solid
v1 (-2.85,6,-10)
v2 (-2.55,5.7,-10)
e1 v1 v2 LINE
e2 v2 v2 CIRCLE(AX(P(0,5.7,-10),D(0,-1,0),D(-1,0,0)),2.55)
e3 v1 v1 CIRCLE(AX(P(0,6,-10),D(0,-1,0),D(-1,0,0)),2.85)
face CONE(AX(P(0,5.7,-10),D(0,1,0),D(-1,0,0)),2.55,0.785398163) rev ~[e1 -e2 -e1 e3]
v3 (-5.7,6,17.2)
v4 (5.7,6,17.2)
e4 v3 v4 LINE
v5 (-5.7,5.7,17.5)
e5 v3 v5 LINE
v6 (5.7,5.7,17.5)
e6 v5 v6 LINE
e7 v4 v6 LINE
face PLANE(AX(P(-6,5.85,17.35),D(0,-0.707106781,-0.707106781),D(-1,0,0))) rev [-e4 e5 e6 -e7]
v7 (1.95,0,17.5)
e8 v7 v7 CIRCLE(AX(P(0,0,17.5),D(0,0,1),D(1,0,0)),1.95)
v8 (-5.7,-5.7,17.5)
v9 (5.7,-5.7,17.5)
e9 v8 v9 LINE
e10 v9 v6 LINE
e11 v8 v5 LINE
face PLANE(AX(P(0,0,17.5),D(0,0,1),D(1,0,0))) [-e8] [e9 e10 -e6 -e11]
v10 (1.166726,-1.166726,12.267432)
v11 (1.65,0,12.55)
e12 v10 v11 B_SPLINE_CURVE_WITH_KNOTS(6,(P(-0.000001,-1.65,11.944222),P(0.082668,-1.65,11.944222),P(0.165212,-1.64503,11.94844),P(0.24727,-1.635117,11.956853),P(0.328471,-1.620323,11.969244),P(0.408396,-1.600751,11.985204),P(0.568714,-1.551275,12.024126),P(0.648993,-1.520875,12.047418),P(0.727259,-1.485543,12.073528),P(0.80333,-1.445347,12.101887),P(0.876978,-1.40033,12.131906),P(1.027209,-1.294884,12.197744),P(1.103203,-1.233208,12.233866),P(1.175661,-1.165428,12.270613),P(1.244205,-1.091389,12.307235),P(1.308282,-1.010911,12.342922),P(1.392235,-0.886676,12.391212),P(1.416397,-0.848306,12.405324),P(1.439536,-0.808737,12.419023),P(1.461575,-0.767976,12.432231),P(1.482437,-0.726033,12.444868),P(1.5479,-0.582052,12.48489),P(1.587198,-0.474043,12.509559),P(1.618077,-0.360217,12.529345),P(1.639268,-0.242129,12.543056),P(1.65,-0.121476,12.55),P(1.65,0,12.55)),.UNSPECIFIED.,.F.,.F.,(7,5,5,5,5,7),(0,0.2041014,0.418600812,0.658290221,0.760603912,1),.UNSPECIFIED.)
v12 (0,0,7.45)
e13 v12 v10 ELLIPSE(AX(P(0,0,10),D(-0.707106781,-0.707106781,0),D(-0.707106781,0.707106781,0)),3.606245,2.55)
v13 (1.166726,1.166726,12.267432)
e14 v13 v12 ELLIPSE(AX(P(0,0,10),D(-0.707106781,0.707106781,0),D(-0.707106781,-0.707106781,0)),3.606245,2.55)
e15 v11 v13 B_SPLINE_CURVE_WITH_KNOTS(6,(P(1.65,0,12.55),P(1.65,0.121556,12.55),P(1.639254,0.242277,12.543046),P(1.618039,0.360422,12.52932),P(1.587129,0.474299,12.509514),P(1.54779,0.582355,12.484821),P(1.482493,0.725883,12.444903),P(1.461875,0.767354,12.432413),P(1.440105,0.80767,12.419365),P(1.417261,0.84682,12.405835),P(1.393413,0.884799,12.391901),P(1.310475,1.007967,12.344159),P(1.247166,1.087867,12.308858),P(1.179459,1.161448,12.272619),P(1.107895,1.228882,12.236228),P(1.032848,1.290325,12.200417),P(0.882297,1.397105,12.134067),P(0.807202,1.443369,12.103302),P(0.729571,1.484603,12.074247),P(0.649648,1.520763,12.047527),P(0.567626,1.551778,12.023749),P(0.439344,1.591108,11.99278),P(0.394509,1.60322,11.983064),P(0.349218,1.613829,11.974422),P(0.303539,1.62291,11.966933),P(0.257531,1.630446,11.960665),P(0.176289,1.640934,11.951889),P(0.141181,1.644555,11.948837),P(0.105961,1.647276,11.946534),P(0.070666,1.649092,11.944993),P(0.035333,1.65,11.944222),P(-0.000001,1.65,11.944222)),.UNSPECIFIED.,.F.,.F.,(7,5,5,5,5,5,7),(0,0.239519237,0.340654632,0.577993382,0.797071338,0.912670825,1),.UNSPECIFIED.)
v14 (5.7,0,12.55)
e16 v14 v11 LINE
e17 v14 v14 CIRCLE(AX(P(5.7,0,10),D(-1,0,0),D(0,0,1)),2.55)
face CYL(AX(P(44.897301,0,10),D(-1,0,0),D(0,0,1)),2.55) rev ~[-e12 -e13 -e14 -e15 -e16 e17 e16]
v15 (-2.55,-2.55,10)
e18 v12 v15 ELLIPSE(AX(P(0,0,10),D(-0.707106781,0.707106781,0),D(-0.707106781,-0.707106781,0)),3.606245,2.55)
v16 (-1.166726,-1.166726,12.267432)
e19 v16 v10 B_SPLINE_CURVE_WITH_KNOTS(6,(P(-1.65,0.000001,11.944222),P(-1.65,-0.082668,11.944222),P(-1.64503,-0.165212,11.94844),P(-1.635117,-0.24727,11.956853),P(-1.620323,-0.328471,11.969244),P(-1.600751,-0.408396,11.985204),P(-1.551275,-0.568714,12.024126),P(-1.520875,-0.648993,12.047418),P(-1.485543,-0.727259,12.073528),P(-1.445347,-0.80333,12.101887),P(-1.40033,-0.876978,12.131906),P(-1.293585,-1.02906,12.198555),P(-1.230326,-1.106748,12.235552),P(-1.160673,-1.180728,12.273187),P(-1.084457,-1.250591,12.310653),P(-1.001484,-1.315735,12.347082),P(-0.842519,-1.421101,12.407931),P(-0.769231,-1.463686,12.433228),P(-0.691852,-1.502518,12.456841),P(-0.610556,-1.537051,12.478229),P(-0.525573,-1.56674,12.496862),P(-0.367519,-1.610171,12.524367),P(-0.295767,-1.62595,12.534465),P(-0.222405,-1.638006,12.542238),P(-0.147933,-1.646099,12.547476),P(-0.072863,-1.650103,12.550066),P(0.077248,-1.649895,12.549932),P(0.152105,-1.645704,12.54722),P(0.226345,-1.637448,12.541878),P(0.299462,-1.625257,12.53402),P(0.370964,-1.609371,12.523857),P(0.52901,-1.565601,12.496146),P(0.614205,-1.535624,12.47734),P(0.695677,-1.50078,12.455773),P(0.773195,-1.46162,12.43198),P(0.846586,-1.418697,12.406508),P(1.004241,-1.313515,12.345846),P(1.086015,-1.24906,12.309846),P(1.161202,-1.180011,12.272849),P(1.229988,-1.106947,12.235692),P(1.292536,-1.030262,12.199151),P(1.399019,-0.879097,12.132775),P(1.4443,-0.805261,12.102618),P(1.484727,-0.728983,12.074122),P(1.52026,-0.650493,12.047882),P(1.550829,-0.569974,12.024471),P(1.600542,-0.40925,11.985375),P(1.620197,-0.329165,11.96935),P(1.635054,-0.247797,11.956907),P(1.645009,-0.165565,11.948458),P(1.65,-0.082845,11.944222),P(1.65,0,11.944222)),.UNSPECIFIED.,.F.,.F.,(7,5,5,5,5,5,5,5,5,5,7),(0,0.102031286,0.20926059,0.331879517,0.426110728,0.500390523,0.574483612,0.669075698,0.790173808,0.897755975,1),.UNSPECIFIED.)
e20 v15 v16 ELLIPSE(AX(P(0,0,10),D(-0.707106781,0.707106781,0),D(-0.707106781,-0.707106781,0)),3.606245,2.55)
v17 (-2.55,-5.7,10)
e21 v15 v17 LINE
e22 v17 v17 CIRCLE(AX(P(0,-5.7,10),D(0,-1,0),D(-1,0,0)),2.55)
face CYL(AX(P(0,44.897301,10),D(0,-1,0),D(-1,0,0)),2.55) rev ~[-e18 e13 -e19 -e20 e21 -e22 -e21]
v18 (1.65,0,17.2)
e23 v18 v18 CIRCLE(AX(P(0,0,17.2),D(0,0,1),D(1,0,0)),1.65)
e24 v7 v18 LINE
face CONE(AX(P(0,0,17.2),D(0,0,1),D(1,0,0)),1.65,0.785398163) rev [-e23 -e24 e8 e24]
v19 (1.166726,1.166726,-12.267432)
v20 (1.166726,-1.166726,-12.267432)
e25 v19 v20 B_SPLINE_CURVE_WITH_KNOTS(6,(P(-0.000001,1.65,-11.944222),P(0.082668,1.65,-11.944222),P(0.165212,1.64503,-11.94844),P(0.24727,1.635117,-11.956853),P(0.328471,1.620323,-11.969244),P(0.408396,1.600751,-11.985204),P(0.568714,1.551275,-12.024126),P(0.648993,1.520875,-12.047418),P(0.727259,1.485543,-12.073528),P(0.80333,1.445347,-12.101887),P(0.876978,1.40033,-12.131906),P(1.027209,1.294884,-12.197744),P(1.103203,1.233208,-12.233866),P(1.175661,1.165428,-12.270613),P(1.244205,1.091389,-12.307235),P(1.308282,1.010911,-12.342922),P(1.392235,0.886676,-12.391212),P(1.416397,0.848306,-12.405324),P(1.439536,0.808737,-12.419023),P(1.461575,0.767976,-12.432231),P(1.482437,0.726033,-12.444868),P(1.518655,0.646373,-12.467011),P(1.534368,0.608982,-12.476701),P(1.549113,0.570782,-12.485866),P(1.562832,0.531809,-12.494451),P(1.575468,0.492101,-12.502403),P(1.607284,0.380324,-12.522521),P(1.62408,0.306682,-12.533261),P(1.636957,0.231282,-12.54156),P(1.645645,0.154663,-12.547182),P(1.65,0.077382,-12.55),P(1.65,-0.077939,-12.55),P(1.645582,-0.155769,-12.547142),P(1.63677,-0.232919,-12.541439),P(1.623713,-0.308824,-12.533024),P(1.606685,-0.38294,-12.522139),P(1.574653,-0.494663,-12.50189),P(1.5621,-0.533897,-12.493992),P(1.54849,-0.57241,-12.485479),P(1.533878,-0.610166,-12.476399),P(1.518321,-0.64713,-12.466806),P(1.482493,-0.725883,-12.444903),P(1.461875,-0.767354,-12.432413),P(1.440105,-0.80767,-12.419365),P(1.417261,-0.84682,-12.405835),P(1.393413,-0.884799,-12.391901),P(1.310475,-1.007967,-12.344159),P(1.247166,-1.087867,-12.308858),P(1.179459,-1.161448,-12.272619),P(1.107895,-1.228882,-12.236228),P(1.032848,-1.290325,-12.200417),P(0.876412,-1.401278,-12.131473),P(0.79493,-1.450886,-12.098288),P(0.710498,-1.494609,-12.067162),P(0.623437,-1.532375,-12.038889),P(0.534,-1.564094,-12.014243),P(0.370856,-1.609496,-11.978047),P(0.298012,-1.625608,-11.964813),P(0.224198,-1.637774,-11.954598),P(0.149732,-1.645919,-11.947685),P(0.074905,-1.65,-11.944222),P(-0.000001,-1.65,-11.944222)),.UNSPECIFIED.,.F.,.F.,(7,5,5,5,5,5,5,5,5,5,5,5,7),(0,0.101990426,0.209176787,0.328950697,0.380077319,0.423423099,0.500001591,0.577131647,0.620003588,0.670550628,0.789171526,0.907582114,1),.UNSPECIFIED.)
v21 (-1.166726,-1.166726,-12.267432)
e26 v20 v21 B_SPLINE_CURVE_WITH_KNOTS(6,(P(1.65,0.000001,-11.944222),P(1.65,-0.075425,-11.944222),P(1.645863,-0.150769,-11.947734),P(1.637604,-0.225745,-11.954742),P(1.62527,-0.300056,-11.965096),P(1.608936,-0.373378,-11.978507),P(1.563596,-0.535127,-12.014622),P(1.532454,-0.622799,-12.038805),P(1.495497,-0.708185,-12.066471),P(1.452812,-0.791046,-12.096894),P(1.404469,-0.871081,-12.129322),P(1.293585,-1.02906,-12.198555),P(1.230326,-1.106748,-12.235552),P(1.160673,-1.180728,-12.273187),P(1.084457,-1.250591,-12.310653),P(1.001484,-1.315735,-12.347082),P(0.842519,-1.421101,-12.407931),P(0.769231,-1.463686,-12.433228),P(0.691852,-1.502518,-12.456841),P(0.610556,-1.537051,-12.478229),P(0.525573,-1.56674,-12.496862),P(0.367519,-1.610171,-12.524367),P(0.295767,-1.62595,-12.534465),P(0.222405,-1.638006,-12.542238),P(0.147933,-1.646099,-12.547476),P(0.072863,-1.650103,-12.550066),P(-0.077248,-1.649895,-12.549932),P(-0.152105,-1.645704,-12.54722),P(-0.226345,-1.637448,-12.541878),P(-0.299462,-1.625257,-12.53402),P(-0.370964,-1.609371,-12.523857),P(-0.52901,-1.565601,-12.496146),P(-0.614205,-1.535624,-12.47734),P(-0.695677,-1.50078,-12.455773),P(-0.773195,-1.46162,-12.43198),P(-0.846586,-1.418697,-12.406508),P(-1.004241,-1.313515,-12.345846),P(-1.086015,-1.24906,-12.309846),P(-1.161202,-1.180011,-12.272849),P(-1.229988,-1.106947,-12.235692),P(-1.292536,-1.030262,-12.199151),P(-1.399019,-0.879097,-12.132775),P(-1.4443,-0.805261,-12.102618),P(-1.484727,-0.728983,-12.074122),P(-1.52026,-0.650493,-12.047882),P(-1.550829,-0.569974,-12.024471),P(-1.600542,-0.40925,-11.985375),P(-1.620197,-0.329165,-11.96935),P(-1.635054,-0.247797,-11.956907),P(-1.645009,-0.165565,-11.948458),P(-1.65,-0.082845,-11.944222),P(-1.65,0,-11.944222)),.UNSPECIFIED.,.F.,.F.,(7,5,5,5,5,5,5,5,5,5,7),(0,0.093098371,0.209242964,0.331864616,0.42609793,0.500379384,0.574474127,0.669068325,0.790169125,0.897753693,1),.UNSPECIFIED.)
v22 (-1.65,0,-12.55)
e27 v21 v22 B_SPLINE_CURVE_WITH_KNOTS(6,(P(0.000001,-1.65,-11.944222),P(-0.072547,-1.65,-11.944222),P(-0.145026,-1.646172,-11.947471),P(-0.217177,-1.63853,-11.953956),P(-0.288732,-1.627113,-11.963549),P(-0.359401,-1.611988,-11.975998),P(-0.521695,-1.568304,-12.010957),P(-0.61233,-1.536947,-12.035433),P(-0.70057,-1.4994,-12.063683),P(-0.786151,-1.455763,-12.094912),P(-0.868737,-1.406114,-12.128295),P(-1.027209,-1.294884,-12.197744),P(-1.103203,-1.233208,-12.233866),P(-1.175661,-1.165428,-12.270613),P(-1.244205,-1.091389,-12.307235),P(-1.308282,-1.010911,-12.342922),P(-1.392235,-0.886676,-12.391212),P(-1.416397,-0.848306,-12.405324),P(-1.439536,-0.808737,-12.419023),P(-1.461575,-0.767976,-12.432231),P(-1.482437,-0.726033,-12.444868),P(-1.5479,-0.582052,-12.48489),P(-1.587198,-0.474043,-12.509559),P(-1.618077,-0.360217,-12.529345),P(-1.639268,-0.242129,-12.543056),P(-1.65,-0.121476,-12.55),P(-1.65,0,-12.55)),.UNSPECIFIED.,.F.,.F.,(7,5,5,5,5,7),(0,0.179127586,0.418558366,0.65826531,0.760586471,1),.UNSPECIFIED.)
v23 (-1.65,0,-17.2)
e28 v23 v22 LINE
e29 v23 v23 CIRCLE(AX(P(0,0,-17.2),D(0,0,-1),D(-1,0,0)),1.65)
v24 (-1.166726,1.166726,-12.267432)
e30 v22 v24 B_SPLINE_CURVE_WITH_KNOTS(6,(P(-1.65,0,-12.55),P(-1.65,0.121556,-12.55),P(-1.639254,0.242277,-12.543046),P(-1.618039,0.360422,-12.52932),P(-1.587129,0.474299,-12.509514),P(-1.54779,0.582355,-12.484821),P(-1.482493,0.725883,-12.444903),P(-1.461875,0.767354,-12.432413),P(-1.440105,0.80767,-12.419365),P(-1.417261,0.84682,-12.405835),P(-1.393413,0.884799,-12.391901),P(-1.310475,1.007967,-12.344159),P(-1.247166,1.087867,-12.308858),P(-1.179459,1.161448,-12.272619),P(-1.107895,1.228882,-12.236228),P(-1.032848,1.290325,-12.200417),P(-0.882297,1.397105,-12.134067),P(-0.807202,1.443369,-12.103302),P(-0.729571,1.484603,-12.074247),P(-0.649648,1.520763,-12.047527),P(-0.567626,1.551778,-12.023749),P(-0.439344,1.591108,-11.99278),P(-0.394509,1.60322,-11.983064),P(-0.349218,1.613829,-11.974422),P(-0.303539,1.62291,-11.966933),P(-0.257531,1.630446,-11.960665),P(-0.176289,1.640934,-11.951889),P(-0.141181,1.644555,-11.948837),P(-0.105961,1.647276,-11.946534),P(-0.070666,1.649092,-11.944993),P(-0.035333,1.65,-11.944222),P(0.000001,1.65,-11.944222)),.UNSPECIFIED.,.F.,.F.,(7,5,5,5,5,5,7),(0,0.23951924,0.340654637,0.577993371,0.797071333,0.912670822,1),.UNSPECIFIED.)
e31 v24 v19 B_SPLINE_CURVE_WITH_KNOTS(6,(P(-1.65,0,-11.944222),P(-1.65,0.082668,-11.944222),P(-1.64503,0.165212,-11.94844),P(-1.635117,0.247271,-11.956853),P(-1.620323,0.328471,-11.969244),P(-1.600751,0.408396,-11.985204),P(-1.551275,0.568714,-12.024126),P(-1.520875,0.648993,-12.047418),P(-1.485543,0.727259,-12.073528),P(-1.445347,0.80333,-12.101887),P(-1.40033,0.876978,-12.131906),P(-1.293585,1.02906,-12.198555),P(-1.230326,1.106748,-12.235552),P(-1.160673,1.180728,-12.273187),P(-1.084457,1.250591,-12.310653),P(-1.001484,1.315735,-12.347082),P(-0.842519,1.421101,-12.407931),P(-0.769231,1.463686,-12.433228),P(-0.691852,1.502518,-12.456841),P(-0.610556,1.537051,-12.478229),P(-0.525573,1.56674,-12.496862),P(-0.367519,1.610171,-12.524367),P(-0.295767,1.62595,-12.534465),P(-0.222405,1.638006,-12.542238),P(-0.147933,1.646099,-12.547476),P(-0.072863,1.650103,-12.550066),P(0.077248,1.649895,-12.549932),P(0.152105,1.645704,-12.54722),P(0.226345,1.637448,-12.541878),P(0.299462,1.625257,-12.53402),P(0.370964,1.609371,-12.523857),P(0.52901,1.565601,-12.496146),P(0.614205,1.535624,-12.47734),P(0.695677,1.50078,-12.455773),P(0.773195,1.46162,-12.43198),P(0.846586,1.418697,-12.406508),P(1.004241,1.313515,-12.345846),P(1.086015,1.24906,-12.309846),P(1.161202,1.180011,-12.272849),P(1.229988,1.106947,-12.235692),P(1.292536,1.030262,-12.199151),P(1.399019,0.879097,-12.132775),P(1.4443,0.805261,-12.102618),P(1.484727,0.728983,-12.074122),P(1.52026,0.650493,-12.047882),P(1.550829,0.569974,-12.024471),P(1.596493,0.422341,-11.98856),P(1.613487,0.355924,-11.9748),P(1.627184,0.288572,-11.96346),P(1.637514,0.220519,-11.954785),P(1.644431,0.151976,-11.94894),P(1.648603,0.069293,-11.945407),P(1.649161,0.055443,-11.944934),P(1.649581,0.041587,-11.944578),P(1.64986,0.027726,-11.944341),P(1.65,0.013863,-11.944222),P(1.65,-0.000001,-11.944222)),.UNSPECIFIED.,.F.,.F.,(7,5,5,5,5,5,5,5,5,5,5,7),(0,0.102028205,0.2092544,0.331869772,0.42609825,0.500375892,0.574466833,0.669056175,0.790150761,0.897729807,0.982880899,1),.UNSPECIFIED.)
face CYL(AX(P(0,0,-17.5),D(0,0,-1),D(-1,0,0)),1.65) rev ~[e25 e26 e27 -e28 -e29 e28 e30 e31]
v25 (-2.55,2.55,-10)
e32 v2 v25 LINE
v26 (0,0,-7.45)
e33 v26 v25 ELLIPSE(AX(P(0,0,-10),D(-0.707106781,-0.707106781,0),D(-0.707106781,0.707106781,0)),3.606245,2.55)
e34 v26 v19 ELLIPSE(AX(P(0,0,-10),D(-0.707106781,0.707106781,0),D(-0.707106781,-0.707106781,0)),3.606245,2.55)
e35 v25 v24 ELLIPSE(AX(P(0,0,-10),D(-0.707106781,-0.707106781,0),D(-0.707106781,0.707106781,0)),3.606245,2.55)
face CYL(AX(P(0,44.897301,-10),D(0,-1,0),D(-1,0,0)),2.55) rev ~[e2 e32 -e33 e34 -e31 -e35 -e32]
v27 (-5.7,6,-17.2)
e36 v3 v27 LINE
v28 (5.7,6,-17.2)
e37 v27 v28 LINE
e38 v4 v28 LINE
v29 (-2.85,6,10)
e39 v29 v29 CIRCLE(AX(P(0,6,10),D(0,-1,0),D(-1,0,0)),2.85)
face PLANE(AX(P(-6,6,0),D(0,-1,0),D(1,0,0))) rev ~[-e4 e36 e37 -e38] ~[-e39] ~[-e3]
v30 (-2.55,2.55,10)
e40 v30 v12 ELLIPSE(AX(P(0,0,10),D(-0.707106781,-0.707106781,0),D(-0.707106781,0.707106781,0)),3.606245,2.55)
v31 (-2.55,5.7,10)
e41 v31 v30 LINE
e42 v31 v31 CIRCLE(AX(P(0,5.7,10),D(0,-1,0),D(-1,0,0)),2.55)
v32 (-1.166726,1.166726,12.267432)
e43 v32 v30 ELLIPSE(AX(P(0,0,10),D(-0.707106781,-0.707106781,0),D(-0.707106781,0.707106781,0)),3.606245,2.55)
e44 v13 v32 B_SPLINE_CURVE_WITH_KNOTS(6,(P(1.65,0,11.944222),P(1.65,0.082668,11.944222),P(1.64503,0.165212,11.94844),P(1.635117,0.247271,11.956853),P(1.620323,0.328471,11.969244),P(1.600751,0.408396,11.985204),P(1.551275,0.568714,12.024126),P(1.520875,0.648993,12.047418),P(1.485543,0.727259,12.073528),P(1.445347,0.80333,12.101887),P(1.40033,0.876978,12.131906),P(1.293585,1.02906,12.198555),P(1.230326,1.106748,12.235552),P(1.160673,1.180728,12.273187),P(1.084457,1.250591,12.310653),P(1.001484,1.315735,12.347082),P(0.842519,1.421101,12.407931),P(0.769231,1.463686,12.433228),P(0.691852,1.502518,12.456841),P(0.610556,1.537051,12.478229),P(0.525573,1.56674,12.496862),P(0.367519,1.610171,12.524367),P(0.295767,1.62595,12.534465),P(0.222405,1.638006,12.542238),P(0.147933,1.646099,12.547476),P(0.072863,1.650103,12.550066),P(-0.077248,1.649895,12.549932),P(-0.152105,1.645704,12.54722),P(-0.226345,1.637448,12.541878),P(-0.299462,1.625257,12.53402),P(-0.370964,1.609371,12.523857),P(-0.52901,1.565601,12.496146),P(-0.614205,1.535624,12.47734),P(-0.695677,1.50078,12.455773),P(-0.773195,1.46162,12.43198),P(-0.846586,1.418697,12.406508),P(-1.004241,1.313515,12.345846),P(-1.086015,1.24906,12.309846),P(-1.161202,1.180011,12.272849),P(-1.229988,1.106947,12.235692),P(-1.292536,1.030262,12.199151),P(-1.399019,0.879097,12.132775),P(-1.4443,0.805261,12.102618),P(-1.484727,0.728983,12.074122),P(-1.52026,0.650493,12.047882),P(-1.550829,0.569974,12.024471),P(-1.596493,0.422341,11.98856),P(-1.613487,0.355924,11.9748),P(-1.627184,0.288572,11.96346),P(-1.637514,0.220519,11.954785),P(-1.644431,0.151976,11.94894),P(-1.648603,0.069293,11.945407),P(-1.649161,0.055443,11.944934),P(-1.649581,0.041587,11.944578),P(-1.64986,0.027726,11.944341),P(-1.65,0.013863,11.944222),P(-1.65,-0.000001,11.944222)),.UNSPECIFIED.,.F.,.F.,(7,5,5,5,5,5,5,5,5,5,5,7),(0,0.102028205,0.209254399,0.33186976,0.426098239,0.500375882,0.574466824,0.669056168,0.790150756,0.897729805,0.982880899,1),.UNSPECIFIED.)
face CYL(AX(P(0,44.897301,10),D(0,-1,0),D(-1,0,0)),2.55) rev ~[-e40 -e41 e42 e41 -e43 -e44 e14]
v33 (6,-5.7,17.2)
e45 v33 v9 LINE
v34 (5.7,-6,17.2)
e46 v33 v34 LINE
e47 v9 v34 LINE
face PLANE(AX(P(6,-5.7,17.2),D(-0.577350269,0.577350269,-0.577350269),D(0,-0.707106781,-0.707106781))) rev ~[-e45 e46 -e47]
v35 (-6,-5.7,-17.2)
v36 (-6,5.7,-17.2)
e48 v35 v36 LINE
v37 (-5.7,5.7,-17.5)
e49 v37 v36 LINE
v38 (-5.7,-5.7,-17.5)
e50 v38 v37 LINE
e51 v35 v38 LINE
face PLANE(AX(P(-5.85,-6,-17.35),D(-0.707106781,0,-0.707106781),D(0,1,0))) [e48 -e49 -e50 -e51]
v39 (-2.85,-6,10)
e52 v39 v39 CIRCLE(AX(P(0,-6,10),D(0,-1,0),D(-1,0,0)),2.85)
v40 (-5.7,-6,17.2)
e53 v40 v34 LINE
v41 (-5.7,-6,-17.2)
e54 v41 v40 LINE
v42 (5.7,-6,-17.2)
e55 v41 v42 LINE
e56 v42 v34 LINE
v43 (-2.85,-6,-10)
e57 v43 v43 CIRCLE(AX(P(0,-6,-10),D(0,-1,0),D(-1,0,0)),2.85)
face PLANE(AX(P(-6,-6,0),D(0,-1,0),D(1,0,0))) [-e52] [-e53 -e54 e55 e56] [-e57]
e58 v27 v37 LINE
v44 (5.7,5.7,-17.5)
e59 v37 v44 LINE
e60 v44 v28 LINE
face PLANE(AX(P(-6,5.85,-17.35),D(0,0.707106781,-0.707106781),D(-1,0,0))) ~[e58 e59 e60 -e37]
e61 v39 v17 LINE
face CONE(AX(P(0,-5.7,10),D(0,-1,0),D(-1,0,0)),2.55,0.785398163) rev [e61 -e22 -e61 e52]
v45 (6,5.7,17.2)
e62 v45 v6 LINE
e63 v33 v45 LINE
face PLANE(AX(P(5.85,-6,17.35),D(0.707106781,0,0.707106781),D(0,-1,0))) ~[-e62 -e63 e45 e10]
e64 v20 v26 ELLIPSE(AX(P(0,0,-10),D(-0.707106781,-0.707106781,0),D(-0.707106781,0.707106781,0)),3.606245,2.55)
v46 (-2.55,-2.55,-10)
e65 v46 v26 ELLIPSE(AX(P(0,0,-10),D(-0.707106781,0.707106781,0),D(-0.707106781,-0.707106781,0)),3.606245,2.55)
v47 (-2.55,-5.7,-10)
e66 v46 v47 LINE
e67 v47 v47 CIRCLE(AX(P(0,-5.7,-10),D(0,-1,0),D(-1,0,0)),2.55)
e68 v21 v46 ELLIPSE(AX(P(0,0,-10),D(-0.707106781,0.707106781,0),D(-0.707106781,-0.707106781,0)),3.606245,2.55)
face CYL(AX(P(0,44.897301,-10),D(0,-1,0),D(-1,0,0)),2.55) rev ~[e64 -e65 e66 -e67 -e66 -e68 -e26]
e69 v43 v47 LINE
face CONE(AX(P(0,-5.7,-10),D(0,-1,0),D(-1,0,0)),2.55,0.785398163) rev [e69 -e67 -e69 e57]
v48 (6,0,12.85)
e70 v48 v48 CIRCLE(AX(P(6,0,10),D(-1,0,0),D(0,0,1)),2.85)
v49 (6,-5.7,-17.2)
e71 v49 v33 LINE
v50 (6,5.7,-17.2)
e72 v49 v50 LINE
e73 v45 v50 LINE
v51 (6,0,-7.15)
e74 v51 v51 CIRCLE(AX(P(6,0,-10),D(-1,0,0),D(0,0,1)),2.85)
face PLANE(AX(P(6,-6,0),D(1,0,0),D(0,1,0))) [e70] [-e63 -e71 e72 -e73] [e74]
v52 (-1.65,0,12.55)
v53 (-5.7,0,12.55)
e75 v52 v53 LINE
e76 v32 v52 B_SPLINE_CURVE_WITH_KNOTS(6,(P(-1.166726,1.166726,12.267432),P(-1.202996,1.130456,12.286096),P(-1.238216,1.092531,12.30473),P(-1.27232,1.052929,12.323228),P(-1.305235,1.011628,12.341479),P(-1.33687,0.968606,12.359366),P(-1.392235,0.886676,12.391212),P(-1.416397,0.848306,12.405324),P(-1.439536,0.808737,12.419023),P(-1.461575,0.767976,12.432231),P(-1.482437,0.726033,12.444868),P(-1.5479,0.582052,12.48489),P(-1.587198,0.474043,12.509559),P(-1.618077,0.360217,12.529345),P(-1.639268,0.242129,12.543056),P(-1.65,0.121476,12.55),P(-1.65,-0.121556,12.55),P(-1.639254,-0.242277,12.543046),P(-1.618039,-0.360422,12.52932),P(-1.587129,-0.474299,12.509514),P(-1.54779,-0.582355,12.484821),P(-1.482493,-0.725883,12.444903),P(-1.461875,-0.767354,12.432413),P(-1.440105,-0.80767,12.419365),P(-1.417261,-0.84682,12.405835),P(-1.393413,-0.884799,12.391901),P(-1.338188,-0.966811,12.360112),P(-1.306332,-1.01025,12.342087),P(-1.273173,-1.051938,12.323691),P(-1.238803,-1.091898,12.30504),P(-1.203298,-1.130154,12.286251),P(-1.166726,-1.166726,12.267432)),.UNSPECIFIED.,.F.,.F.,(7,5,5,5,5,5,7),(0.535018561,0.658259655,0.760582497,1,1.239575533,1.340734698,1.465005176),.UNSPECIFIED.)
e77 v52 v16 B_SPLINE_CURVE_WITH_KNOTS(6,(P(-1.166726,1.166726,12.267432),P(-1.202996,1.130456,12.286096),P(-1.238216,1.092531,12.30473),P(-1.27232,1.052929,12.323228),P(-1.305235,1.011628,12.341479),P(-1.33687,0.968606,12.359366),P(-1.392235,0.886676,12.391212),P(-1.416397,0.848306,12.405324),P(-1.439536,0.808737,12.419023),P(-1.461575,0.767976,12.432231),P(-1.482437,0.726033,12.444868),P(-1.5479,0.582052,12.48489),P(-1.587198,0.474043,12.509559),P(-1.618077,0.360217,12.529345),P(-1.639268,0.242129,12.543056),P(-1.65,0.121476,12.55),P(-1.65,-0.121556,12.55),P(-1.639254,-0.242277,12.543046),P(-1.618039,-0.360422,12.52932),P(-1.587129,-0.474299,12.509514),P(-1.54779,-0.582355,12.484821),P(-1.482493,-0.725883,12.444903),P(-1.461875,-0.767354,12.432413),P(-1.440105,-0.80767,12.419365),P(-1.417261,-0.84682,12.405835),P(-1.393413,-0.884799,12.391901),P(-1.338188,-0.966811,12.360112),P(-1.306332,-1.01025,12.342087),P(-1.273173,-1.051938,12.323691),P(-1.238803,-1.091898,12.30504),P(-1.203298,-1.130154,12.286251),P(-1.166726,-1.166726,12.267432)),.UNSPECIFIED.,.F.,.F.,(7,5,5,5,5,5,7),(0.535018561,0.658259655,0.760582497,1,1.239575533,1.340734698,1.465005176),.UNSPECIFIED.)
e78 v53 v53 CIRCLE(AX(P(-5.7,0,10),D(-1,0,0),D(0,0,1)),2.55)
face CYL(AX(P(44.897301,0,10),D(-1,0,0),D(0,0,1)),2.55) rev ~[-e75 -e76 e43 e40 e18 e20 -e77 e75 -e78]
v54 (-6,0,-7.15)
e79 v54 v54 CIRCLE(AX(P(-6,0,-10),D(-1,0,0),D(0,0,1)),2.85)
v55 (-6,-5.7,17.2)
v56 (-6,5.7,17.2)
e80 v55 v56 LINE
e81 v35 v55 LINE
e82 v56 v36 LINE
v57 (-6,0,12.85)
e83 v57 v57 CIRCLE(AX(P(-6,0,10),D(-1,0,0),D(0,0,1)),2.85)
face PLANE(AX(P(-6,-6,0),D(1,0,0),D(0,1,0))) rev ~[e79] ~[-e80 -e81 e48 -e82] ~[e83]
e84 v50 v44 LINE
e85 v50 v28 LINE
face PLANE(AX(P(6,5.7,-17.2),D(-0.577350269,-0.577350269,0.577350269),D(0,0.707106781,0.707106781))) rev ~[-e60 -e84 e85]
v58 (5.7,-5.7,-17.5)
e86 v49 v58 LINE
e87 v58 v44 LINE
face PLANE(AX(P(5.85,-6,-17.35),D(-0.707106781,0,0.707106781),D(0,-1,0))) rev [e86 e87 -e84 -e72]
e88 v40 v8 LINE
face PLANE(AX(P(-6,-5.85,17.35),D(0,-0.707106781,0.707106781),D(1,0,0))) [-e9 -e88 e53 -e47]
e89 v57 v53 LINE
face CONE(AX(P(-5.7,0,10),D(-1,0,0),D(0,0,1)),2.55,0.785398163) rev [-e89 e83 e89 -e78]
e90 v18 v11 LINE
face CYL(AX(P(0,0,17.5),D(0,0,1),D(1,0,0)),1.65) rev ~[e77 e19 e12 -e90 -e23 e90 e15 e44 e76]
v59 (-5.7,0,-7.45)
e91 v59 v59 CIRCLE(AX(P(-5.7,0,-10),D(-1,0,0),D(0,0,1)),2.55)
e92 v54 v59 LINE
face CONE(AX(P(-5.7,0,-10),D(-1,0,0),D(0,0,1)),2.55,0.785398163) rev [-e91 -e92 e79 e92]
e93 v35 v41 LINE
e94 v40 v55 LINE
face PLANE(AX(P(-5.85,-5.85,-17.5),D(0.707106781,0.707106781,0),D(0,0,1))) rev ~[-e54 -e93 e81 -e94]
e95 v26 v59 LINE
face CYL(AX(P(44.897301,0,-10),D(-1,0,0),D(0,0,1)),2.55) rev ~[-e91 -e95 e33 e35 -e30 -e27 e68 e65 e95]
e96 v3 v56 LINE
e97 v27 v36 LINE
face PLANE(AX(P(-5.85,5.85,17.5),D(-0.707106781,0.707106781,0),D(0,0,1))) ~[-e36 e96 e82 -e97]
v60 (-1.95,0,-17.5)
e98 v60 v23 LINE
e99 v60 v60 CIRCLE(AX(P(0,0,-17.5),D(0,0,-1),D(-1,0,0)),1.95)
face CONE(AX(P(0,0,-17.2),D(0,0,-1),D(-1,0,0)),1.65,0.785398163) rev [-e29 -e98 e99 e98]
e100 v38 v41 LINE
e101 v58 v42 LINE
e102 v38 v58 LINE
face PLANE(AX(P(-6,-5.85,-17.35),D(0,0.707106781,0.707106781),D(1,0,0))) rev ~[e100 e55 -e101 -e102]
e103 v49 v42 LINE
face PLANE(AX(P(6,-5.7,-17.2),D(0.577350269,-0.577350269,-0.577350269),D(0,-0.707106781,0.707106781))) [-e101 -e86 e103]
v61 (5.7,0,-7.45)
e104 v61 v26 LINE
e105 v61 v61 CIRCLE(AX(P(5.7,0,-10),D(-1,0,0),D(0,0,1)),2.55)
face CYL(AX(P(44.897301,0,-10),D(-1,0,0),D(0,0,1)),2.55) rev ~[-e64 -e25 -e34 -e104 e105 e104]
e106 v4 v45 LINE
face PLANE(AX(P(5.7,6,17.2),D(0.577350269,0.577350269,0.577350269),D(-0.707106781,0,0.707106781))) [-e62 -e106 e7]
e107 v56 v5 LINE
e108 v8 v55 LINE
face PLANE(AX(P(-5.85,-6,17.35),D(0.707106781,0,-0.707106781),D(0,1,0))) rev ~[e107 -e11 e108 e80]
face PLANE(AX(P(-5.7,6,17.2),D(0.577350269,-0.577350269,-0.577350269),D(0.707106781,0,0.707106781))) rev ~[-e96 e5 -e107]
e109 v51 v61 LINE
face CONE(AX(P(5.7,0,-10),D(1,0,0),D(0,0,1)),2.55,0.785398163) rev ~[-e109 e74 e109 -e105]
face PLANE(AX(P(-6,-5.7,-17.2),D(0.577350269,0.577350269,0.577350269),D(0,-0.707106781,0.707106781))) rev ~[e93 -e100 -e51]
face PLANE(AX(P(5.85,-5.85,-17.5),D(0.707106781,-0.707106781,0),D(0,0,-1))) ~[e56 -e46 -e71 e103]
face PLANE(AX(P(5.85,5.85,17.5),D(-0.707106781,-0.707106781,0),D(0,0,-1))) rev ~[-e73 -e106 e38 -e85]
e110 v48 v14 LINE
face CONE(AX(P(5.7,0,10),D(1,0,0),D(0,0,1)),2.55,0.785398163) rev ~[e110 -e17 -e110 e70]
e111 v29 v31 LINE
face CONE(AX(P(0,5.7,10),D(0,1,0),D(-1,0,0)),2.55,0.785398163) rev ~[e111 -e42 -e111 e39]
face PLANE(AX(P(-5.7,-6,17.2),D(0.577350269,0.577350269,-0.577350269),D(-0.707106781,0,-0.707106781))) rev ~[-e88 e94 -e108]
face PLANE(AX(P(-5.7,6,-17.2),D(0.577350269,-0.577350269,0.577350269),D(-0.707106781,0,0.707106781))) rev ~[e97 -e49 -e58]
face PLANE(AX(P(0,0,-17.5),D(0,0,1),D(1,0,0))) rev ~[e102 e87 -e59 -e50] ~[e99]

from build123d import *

# Parameters (mm, degrees)
SKETCH_1_W              = 12
SKETCH_1_H              = 12
EXTRUDE_1_DEPTH         = 17.5
HOLE_WIZARD_5_1_5_1_1_D = 5.1
HOLE_WIZARD_5_1_5_1_2_D = 5.1
HOLE_WIZARD_M4_1_REACH  = 38.014
HOLE_WIZARD_M4_1_BORE_R = 1.65
HOLE_WIZARD_M4_2_REACH  = 38.014
HOLE_WIZARD_M4_2_BORE_R = 1.65
CHAMFER_1_SIZE          = 0.3


with BuildPart() as part:
    # 草图1 → 凸台-拉伸1 (new, symmetric)
    with BuildSketch(Plane.XY):
        Rectangle(SKETCH_1_W, SKETCH_1_H)
    extrude(amount=EXTRUDE_1_DEPTH, both=True)

    # Ø5.1 (5.1) 直径孔1 (through all)
    with Locations(Plane(origin=(6, 0, 0), x_dir=(0, 0, -1), z_dir=(1, 0, 0))):
        with Locations((-10, 0), (10, 0)):
            Hole(HOLE_WIZARD_5_1_5_1_1_D / 2)

    # Ø5.1 (5.1) 直径孔2 (through all)
    with Locations(Plane(origin=(0, 6, 0), x_dir=(1, 0, 0), z_dir=(0, 1, 0))):
        with Locations((0, -10), (0, 10)):
            Hole(HOLE_WIZARD_5_1_5_1_2_D / 2)

    # M4 螺纹孔1 bore → M4 螺纹孔1 (cut, up to next)
    with BuildSketch(Plane.XY.offset(17.5), mode=Mode.PRIVATE) as hole_wizard_m4_1_sk1:
        Circle(HOLE_WIZARD_M4_1_BORE_R)
    hole_wizard_m4_1_tool1 = extrude(hole_wizard_m4_1_sk1.sketch, amount=-HOLE_WIZARD_M4_1_REACH, mode=Mode.PRIVATE) & part.part
    add(hole_wizard_m4_1_tool1.solids().sort_by_distance((0, 0, 17.5))[0], mode=Mode.SUBTRACT)

    # M4 螺纹孔2 bore → M4 螺纹孔2 (cut, up to next)
    with BuildSketch(Plane(origin=(0, 0, -17.5), x_dir=(-1, 0, 0), z_dir=(0, 0, -1)), mode=Mode.PRIVATE) as hole_wizard_m4_2_sk1:
        Circle(HOLE_WIZARD_M4_2_BORE_R)
    hole_wizard_m4_2_tool1 = extrude(hole_wizard_m4_2_sk1.sketch, amount=-HOLE_WIZARD_M4_2_REACH, mode=Mode.PRIVATE) & part.part
    add(hole_wizard_m4_2_tool1.solids().sort_by_distance((0, 0, -17.5))[0], mode=Mode.SUBTRACT)

    # 倒角1
    chamfer_1_edges = [part.edges().sort_by_distance(p)[0] for p in [
        (-6, 0, 17.5),
        (6, 0, -12.55),
        (-6, 0, -12.55),
        (0, -6, 17.5),
        (6, 0, 7.45),
        (-6, 0, 7.45),
        (2.55, -6, -10),
        (2.55, 6, -10),
        (2.55, -6, 10),
        (2.55, 6, 10),
        (6, 0, 17.5),
        (0, -6, -17.5),
        (-6, 0, -17.5),
        (-1.65, 0, 17.5),
        (0, 6, -17.5),
        (6, 0, -17.5),
        (1.65, 0, -17.5),
        (6, -6, 0),
        (-6, -6, 0),
        (-6, 6, 0),
        (6, 6, 0),
        (0, 6, 17.5),
    ]]
    chamfer(chamfer_1_edges, length=CHAMFER_1_SIZE)


solid = part.part
